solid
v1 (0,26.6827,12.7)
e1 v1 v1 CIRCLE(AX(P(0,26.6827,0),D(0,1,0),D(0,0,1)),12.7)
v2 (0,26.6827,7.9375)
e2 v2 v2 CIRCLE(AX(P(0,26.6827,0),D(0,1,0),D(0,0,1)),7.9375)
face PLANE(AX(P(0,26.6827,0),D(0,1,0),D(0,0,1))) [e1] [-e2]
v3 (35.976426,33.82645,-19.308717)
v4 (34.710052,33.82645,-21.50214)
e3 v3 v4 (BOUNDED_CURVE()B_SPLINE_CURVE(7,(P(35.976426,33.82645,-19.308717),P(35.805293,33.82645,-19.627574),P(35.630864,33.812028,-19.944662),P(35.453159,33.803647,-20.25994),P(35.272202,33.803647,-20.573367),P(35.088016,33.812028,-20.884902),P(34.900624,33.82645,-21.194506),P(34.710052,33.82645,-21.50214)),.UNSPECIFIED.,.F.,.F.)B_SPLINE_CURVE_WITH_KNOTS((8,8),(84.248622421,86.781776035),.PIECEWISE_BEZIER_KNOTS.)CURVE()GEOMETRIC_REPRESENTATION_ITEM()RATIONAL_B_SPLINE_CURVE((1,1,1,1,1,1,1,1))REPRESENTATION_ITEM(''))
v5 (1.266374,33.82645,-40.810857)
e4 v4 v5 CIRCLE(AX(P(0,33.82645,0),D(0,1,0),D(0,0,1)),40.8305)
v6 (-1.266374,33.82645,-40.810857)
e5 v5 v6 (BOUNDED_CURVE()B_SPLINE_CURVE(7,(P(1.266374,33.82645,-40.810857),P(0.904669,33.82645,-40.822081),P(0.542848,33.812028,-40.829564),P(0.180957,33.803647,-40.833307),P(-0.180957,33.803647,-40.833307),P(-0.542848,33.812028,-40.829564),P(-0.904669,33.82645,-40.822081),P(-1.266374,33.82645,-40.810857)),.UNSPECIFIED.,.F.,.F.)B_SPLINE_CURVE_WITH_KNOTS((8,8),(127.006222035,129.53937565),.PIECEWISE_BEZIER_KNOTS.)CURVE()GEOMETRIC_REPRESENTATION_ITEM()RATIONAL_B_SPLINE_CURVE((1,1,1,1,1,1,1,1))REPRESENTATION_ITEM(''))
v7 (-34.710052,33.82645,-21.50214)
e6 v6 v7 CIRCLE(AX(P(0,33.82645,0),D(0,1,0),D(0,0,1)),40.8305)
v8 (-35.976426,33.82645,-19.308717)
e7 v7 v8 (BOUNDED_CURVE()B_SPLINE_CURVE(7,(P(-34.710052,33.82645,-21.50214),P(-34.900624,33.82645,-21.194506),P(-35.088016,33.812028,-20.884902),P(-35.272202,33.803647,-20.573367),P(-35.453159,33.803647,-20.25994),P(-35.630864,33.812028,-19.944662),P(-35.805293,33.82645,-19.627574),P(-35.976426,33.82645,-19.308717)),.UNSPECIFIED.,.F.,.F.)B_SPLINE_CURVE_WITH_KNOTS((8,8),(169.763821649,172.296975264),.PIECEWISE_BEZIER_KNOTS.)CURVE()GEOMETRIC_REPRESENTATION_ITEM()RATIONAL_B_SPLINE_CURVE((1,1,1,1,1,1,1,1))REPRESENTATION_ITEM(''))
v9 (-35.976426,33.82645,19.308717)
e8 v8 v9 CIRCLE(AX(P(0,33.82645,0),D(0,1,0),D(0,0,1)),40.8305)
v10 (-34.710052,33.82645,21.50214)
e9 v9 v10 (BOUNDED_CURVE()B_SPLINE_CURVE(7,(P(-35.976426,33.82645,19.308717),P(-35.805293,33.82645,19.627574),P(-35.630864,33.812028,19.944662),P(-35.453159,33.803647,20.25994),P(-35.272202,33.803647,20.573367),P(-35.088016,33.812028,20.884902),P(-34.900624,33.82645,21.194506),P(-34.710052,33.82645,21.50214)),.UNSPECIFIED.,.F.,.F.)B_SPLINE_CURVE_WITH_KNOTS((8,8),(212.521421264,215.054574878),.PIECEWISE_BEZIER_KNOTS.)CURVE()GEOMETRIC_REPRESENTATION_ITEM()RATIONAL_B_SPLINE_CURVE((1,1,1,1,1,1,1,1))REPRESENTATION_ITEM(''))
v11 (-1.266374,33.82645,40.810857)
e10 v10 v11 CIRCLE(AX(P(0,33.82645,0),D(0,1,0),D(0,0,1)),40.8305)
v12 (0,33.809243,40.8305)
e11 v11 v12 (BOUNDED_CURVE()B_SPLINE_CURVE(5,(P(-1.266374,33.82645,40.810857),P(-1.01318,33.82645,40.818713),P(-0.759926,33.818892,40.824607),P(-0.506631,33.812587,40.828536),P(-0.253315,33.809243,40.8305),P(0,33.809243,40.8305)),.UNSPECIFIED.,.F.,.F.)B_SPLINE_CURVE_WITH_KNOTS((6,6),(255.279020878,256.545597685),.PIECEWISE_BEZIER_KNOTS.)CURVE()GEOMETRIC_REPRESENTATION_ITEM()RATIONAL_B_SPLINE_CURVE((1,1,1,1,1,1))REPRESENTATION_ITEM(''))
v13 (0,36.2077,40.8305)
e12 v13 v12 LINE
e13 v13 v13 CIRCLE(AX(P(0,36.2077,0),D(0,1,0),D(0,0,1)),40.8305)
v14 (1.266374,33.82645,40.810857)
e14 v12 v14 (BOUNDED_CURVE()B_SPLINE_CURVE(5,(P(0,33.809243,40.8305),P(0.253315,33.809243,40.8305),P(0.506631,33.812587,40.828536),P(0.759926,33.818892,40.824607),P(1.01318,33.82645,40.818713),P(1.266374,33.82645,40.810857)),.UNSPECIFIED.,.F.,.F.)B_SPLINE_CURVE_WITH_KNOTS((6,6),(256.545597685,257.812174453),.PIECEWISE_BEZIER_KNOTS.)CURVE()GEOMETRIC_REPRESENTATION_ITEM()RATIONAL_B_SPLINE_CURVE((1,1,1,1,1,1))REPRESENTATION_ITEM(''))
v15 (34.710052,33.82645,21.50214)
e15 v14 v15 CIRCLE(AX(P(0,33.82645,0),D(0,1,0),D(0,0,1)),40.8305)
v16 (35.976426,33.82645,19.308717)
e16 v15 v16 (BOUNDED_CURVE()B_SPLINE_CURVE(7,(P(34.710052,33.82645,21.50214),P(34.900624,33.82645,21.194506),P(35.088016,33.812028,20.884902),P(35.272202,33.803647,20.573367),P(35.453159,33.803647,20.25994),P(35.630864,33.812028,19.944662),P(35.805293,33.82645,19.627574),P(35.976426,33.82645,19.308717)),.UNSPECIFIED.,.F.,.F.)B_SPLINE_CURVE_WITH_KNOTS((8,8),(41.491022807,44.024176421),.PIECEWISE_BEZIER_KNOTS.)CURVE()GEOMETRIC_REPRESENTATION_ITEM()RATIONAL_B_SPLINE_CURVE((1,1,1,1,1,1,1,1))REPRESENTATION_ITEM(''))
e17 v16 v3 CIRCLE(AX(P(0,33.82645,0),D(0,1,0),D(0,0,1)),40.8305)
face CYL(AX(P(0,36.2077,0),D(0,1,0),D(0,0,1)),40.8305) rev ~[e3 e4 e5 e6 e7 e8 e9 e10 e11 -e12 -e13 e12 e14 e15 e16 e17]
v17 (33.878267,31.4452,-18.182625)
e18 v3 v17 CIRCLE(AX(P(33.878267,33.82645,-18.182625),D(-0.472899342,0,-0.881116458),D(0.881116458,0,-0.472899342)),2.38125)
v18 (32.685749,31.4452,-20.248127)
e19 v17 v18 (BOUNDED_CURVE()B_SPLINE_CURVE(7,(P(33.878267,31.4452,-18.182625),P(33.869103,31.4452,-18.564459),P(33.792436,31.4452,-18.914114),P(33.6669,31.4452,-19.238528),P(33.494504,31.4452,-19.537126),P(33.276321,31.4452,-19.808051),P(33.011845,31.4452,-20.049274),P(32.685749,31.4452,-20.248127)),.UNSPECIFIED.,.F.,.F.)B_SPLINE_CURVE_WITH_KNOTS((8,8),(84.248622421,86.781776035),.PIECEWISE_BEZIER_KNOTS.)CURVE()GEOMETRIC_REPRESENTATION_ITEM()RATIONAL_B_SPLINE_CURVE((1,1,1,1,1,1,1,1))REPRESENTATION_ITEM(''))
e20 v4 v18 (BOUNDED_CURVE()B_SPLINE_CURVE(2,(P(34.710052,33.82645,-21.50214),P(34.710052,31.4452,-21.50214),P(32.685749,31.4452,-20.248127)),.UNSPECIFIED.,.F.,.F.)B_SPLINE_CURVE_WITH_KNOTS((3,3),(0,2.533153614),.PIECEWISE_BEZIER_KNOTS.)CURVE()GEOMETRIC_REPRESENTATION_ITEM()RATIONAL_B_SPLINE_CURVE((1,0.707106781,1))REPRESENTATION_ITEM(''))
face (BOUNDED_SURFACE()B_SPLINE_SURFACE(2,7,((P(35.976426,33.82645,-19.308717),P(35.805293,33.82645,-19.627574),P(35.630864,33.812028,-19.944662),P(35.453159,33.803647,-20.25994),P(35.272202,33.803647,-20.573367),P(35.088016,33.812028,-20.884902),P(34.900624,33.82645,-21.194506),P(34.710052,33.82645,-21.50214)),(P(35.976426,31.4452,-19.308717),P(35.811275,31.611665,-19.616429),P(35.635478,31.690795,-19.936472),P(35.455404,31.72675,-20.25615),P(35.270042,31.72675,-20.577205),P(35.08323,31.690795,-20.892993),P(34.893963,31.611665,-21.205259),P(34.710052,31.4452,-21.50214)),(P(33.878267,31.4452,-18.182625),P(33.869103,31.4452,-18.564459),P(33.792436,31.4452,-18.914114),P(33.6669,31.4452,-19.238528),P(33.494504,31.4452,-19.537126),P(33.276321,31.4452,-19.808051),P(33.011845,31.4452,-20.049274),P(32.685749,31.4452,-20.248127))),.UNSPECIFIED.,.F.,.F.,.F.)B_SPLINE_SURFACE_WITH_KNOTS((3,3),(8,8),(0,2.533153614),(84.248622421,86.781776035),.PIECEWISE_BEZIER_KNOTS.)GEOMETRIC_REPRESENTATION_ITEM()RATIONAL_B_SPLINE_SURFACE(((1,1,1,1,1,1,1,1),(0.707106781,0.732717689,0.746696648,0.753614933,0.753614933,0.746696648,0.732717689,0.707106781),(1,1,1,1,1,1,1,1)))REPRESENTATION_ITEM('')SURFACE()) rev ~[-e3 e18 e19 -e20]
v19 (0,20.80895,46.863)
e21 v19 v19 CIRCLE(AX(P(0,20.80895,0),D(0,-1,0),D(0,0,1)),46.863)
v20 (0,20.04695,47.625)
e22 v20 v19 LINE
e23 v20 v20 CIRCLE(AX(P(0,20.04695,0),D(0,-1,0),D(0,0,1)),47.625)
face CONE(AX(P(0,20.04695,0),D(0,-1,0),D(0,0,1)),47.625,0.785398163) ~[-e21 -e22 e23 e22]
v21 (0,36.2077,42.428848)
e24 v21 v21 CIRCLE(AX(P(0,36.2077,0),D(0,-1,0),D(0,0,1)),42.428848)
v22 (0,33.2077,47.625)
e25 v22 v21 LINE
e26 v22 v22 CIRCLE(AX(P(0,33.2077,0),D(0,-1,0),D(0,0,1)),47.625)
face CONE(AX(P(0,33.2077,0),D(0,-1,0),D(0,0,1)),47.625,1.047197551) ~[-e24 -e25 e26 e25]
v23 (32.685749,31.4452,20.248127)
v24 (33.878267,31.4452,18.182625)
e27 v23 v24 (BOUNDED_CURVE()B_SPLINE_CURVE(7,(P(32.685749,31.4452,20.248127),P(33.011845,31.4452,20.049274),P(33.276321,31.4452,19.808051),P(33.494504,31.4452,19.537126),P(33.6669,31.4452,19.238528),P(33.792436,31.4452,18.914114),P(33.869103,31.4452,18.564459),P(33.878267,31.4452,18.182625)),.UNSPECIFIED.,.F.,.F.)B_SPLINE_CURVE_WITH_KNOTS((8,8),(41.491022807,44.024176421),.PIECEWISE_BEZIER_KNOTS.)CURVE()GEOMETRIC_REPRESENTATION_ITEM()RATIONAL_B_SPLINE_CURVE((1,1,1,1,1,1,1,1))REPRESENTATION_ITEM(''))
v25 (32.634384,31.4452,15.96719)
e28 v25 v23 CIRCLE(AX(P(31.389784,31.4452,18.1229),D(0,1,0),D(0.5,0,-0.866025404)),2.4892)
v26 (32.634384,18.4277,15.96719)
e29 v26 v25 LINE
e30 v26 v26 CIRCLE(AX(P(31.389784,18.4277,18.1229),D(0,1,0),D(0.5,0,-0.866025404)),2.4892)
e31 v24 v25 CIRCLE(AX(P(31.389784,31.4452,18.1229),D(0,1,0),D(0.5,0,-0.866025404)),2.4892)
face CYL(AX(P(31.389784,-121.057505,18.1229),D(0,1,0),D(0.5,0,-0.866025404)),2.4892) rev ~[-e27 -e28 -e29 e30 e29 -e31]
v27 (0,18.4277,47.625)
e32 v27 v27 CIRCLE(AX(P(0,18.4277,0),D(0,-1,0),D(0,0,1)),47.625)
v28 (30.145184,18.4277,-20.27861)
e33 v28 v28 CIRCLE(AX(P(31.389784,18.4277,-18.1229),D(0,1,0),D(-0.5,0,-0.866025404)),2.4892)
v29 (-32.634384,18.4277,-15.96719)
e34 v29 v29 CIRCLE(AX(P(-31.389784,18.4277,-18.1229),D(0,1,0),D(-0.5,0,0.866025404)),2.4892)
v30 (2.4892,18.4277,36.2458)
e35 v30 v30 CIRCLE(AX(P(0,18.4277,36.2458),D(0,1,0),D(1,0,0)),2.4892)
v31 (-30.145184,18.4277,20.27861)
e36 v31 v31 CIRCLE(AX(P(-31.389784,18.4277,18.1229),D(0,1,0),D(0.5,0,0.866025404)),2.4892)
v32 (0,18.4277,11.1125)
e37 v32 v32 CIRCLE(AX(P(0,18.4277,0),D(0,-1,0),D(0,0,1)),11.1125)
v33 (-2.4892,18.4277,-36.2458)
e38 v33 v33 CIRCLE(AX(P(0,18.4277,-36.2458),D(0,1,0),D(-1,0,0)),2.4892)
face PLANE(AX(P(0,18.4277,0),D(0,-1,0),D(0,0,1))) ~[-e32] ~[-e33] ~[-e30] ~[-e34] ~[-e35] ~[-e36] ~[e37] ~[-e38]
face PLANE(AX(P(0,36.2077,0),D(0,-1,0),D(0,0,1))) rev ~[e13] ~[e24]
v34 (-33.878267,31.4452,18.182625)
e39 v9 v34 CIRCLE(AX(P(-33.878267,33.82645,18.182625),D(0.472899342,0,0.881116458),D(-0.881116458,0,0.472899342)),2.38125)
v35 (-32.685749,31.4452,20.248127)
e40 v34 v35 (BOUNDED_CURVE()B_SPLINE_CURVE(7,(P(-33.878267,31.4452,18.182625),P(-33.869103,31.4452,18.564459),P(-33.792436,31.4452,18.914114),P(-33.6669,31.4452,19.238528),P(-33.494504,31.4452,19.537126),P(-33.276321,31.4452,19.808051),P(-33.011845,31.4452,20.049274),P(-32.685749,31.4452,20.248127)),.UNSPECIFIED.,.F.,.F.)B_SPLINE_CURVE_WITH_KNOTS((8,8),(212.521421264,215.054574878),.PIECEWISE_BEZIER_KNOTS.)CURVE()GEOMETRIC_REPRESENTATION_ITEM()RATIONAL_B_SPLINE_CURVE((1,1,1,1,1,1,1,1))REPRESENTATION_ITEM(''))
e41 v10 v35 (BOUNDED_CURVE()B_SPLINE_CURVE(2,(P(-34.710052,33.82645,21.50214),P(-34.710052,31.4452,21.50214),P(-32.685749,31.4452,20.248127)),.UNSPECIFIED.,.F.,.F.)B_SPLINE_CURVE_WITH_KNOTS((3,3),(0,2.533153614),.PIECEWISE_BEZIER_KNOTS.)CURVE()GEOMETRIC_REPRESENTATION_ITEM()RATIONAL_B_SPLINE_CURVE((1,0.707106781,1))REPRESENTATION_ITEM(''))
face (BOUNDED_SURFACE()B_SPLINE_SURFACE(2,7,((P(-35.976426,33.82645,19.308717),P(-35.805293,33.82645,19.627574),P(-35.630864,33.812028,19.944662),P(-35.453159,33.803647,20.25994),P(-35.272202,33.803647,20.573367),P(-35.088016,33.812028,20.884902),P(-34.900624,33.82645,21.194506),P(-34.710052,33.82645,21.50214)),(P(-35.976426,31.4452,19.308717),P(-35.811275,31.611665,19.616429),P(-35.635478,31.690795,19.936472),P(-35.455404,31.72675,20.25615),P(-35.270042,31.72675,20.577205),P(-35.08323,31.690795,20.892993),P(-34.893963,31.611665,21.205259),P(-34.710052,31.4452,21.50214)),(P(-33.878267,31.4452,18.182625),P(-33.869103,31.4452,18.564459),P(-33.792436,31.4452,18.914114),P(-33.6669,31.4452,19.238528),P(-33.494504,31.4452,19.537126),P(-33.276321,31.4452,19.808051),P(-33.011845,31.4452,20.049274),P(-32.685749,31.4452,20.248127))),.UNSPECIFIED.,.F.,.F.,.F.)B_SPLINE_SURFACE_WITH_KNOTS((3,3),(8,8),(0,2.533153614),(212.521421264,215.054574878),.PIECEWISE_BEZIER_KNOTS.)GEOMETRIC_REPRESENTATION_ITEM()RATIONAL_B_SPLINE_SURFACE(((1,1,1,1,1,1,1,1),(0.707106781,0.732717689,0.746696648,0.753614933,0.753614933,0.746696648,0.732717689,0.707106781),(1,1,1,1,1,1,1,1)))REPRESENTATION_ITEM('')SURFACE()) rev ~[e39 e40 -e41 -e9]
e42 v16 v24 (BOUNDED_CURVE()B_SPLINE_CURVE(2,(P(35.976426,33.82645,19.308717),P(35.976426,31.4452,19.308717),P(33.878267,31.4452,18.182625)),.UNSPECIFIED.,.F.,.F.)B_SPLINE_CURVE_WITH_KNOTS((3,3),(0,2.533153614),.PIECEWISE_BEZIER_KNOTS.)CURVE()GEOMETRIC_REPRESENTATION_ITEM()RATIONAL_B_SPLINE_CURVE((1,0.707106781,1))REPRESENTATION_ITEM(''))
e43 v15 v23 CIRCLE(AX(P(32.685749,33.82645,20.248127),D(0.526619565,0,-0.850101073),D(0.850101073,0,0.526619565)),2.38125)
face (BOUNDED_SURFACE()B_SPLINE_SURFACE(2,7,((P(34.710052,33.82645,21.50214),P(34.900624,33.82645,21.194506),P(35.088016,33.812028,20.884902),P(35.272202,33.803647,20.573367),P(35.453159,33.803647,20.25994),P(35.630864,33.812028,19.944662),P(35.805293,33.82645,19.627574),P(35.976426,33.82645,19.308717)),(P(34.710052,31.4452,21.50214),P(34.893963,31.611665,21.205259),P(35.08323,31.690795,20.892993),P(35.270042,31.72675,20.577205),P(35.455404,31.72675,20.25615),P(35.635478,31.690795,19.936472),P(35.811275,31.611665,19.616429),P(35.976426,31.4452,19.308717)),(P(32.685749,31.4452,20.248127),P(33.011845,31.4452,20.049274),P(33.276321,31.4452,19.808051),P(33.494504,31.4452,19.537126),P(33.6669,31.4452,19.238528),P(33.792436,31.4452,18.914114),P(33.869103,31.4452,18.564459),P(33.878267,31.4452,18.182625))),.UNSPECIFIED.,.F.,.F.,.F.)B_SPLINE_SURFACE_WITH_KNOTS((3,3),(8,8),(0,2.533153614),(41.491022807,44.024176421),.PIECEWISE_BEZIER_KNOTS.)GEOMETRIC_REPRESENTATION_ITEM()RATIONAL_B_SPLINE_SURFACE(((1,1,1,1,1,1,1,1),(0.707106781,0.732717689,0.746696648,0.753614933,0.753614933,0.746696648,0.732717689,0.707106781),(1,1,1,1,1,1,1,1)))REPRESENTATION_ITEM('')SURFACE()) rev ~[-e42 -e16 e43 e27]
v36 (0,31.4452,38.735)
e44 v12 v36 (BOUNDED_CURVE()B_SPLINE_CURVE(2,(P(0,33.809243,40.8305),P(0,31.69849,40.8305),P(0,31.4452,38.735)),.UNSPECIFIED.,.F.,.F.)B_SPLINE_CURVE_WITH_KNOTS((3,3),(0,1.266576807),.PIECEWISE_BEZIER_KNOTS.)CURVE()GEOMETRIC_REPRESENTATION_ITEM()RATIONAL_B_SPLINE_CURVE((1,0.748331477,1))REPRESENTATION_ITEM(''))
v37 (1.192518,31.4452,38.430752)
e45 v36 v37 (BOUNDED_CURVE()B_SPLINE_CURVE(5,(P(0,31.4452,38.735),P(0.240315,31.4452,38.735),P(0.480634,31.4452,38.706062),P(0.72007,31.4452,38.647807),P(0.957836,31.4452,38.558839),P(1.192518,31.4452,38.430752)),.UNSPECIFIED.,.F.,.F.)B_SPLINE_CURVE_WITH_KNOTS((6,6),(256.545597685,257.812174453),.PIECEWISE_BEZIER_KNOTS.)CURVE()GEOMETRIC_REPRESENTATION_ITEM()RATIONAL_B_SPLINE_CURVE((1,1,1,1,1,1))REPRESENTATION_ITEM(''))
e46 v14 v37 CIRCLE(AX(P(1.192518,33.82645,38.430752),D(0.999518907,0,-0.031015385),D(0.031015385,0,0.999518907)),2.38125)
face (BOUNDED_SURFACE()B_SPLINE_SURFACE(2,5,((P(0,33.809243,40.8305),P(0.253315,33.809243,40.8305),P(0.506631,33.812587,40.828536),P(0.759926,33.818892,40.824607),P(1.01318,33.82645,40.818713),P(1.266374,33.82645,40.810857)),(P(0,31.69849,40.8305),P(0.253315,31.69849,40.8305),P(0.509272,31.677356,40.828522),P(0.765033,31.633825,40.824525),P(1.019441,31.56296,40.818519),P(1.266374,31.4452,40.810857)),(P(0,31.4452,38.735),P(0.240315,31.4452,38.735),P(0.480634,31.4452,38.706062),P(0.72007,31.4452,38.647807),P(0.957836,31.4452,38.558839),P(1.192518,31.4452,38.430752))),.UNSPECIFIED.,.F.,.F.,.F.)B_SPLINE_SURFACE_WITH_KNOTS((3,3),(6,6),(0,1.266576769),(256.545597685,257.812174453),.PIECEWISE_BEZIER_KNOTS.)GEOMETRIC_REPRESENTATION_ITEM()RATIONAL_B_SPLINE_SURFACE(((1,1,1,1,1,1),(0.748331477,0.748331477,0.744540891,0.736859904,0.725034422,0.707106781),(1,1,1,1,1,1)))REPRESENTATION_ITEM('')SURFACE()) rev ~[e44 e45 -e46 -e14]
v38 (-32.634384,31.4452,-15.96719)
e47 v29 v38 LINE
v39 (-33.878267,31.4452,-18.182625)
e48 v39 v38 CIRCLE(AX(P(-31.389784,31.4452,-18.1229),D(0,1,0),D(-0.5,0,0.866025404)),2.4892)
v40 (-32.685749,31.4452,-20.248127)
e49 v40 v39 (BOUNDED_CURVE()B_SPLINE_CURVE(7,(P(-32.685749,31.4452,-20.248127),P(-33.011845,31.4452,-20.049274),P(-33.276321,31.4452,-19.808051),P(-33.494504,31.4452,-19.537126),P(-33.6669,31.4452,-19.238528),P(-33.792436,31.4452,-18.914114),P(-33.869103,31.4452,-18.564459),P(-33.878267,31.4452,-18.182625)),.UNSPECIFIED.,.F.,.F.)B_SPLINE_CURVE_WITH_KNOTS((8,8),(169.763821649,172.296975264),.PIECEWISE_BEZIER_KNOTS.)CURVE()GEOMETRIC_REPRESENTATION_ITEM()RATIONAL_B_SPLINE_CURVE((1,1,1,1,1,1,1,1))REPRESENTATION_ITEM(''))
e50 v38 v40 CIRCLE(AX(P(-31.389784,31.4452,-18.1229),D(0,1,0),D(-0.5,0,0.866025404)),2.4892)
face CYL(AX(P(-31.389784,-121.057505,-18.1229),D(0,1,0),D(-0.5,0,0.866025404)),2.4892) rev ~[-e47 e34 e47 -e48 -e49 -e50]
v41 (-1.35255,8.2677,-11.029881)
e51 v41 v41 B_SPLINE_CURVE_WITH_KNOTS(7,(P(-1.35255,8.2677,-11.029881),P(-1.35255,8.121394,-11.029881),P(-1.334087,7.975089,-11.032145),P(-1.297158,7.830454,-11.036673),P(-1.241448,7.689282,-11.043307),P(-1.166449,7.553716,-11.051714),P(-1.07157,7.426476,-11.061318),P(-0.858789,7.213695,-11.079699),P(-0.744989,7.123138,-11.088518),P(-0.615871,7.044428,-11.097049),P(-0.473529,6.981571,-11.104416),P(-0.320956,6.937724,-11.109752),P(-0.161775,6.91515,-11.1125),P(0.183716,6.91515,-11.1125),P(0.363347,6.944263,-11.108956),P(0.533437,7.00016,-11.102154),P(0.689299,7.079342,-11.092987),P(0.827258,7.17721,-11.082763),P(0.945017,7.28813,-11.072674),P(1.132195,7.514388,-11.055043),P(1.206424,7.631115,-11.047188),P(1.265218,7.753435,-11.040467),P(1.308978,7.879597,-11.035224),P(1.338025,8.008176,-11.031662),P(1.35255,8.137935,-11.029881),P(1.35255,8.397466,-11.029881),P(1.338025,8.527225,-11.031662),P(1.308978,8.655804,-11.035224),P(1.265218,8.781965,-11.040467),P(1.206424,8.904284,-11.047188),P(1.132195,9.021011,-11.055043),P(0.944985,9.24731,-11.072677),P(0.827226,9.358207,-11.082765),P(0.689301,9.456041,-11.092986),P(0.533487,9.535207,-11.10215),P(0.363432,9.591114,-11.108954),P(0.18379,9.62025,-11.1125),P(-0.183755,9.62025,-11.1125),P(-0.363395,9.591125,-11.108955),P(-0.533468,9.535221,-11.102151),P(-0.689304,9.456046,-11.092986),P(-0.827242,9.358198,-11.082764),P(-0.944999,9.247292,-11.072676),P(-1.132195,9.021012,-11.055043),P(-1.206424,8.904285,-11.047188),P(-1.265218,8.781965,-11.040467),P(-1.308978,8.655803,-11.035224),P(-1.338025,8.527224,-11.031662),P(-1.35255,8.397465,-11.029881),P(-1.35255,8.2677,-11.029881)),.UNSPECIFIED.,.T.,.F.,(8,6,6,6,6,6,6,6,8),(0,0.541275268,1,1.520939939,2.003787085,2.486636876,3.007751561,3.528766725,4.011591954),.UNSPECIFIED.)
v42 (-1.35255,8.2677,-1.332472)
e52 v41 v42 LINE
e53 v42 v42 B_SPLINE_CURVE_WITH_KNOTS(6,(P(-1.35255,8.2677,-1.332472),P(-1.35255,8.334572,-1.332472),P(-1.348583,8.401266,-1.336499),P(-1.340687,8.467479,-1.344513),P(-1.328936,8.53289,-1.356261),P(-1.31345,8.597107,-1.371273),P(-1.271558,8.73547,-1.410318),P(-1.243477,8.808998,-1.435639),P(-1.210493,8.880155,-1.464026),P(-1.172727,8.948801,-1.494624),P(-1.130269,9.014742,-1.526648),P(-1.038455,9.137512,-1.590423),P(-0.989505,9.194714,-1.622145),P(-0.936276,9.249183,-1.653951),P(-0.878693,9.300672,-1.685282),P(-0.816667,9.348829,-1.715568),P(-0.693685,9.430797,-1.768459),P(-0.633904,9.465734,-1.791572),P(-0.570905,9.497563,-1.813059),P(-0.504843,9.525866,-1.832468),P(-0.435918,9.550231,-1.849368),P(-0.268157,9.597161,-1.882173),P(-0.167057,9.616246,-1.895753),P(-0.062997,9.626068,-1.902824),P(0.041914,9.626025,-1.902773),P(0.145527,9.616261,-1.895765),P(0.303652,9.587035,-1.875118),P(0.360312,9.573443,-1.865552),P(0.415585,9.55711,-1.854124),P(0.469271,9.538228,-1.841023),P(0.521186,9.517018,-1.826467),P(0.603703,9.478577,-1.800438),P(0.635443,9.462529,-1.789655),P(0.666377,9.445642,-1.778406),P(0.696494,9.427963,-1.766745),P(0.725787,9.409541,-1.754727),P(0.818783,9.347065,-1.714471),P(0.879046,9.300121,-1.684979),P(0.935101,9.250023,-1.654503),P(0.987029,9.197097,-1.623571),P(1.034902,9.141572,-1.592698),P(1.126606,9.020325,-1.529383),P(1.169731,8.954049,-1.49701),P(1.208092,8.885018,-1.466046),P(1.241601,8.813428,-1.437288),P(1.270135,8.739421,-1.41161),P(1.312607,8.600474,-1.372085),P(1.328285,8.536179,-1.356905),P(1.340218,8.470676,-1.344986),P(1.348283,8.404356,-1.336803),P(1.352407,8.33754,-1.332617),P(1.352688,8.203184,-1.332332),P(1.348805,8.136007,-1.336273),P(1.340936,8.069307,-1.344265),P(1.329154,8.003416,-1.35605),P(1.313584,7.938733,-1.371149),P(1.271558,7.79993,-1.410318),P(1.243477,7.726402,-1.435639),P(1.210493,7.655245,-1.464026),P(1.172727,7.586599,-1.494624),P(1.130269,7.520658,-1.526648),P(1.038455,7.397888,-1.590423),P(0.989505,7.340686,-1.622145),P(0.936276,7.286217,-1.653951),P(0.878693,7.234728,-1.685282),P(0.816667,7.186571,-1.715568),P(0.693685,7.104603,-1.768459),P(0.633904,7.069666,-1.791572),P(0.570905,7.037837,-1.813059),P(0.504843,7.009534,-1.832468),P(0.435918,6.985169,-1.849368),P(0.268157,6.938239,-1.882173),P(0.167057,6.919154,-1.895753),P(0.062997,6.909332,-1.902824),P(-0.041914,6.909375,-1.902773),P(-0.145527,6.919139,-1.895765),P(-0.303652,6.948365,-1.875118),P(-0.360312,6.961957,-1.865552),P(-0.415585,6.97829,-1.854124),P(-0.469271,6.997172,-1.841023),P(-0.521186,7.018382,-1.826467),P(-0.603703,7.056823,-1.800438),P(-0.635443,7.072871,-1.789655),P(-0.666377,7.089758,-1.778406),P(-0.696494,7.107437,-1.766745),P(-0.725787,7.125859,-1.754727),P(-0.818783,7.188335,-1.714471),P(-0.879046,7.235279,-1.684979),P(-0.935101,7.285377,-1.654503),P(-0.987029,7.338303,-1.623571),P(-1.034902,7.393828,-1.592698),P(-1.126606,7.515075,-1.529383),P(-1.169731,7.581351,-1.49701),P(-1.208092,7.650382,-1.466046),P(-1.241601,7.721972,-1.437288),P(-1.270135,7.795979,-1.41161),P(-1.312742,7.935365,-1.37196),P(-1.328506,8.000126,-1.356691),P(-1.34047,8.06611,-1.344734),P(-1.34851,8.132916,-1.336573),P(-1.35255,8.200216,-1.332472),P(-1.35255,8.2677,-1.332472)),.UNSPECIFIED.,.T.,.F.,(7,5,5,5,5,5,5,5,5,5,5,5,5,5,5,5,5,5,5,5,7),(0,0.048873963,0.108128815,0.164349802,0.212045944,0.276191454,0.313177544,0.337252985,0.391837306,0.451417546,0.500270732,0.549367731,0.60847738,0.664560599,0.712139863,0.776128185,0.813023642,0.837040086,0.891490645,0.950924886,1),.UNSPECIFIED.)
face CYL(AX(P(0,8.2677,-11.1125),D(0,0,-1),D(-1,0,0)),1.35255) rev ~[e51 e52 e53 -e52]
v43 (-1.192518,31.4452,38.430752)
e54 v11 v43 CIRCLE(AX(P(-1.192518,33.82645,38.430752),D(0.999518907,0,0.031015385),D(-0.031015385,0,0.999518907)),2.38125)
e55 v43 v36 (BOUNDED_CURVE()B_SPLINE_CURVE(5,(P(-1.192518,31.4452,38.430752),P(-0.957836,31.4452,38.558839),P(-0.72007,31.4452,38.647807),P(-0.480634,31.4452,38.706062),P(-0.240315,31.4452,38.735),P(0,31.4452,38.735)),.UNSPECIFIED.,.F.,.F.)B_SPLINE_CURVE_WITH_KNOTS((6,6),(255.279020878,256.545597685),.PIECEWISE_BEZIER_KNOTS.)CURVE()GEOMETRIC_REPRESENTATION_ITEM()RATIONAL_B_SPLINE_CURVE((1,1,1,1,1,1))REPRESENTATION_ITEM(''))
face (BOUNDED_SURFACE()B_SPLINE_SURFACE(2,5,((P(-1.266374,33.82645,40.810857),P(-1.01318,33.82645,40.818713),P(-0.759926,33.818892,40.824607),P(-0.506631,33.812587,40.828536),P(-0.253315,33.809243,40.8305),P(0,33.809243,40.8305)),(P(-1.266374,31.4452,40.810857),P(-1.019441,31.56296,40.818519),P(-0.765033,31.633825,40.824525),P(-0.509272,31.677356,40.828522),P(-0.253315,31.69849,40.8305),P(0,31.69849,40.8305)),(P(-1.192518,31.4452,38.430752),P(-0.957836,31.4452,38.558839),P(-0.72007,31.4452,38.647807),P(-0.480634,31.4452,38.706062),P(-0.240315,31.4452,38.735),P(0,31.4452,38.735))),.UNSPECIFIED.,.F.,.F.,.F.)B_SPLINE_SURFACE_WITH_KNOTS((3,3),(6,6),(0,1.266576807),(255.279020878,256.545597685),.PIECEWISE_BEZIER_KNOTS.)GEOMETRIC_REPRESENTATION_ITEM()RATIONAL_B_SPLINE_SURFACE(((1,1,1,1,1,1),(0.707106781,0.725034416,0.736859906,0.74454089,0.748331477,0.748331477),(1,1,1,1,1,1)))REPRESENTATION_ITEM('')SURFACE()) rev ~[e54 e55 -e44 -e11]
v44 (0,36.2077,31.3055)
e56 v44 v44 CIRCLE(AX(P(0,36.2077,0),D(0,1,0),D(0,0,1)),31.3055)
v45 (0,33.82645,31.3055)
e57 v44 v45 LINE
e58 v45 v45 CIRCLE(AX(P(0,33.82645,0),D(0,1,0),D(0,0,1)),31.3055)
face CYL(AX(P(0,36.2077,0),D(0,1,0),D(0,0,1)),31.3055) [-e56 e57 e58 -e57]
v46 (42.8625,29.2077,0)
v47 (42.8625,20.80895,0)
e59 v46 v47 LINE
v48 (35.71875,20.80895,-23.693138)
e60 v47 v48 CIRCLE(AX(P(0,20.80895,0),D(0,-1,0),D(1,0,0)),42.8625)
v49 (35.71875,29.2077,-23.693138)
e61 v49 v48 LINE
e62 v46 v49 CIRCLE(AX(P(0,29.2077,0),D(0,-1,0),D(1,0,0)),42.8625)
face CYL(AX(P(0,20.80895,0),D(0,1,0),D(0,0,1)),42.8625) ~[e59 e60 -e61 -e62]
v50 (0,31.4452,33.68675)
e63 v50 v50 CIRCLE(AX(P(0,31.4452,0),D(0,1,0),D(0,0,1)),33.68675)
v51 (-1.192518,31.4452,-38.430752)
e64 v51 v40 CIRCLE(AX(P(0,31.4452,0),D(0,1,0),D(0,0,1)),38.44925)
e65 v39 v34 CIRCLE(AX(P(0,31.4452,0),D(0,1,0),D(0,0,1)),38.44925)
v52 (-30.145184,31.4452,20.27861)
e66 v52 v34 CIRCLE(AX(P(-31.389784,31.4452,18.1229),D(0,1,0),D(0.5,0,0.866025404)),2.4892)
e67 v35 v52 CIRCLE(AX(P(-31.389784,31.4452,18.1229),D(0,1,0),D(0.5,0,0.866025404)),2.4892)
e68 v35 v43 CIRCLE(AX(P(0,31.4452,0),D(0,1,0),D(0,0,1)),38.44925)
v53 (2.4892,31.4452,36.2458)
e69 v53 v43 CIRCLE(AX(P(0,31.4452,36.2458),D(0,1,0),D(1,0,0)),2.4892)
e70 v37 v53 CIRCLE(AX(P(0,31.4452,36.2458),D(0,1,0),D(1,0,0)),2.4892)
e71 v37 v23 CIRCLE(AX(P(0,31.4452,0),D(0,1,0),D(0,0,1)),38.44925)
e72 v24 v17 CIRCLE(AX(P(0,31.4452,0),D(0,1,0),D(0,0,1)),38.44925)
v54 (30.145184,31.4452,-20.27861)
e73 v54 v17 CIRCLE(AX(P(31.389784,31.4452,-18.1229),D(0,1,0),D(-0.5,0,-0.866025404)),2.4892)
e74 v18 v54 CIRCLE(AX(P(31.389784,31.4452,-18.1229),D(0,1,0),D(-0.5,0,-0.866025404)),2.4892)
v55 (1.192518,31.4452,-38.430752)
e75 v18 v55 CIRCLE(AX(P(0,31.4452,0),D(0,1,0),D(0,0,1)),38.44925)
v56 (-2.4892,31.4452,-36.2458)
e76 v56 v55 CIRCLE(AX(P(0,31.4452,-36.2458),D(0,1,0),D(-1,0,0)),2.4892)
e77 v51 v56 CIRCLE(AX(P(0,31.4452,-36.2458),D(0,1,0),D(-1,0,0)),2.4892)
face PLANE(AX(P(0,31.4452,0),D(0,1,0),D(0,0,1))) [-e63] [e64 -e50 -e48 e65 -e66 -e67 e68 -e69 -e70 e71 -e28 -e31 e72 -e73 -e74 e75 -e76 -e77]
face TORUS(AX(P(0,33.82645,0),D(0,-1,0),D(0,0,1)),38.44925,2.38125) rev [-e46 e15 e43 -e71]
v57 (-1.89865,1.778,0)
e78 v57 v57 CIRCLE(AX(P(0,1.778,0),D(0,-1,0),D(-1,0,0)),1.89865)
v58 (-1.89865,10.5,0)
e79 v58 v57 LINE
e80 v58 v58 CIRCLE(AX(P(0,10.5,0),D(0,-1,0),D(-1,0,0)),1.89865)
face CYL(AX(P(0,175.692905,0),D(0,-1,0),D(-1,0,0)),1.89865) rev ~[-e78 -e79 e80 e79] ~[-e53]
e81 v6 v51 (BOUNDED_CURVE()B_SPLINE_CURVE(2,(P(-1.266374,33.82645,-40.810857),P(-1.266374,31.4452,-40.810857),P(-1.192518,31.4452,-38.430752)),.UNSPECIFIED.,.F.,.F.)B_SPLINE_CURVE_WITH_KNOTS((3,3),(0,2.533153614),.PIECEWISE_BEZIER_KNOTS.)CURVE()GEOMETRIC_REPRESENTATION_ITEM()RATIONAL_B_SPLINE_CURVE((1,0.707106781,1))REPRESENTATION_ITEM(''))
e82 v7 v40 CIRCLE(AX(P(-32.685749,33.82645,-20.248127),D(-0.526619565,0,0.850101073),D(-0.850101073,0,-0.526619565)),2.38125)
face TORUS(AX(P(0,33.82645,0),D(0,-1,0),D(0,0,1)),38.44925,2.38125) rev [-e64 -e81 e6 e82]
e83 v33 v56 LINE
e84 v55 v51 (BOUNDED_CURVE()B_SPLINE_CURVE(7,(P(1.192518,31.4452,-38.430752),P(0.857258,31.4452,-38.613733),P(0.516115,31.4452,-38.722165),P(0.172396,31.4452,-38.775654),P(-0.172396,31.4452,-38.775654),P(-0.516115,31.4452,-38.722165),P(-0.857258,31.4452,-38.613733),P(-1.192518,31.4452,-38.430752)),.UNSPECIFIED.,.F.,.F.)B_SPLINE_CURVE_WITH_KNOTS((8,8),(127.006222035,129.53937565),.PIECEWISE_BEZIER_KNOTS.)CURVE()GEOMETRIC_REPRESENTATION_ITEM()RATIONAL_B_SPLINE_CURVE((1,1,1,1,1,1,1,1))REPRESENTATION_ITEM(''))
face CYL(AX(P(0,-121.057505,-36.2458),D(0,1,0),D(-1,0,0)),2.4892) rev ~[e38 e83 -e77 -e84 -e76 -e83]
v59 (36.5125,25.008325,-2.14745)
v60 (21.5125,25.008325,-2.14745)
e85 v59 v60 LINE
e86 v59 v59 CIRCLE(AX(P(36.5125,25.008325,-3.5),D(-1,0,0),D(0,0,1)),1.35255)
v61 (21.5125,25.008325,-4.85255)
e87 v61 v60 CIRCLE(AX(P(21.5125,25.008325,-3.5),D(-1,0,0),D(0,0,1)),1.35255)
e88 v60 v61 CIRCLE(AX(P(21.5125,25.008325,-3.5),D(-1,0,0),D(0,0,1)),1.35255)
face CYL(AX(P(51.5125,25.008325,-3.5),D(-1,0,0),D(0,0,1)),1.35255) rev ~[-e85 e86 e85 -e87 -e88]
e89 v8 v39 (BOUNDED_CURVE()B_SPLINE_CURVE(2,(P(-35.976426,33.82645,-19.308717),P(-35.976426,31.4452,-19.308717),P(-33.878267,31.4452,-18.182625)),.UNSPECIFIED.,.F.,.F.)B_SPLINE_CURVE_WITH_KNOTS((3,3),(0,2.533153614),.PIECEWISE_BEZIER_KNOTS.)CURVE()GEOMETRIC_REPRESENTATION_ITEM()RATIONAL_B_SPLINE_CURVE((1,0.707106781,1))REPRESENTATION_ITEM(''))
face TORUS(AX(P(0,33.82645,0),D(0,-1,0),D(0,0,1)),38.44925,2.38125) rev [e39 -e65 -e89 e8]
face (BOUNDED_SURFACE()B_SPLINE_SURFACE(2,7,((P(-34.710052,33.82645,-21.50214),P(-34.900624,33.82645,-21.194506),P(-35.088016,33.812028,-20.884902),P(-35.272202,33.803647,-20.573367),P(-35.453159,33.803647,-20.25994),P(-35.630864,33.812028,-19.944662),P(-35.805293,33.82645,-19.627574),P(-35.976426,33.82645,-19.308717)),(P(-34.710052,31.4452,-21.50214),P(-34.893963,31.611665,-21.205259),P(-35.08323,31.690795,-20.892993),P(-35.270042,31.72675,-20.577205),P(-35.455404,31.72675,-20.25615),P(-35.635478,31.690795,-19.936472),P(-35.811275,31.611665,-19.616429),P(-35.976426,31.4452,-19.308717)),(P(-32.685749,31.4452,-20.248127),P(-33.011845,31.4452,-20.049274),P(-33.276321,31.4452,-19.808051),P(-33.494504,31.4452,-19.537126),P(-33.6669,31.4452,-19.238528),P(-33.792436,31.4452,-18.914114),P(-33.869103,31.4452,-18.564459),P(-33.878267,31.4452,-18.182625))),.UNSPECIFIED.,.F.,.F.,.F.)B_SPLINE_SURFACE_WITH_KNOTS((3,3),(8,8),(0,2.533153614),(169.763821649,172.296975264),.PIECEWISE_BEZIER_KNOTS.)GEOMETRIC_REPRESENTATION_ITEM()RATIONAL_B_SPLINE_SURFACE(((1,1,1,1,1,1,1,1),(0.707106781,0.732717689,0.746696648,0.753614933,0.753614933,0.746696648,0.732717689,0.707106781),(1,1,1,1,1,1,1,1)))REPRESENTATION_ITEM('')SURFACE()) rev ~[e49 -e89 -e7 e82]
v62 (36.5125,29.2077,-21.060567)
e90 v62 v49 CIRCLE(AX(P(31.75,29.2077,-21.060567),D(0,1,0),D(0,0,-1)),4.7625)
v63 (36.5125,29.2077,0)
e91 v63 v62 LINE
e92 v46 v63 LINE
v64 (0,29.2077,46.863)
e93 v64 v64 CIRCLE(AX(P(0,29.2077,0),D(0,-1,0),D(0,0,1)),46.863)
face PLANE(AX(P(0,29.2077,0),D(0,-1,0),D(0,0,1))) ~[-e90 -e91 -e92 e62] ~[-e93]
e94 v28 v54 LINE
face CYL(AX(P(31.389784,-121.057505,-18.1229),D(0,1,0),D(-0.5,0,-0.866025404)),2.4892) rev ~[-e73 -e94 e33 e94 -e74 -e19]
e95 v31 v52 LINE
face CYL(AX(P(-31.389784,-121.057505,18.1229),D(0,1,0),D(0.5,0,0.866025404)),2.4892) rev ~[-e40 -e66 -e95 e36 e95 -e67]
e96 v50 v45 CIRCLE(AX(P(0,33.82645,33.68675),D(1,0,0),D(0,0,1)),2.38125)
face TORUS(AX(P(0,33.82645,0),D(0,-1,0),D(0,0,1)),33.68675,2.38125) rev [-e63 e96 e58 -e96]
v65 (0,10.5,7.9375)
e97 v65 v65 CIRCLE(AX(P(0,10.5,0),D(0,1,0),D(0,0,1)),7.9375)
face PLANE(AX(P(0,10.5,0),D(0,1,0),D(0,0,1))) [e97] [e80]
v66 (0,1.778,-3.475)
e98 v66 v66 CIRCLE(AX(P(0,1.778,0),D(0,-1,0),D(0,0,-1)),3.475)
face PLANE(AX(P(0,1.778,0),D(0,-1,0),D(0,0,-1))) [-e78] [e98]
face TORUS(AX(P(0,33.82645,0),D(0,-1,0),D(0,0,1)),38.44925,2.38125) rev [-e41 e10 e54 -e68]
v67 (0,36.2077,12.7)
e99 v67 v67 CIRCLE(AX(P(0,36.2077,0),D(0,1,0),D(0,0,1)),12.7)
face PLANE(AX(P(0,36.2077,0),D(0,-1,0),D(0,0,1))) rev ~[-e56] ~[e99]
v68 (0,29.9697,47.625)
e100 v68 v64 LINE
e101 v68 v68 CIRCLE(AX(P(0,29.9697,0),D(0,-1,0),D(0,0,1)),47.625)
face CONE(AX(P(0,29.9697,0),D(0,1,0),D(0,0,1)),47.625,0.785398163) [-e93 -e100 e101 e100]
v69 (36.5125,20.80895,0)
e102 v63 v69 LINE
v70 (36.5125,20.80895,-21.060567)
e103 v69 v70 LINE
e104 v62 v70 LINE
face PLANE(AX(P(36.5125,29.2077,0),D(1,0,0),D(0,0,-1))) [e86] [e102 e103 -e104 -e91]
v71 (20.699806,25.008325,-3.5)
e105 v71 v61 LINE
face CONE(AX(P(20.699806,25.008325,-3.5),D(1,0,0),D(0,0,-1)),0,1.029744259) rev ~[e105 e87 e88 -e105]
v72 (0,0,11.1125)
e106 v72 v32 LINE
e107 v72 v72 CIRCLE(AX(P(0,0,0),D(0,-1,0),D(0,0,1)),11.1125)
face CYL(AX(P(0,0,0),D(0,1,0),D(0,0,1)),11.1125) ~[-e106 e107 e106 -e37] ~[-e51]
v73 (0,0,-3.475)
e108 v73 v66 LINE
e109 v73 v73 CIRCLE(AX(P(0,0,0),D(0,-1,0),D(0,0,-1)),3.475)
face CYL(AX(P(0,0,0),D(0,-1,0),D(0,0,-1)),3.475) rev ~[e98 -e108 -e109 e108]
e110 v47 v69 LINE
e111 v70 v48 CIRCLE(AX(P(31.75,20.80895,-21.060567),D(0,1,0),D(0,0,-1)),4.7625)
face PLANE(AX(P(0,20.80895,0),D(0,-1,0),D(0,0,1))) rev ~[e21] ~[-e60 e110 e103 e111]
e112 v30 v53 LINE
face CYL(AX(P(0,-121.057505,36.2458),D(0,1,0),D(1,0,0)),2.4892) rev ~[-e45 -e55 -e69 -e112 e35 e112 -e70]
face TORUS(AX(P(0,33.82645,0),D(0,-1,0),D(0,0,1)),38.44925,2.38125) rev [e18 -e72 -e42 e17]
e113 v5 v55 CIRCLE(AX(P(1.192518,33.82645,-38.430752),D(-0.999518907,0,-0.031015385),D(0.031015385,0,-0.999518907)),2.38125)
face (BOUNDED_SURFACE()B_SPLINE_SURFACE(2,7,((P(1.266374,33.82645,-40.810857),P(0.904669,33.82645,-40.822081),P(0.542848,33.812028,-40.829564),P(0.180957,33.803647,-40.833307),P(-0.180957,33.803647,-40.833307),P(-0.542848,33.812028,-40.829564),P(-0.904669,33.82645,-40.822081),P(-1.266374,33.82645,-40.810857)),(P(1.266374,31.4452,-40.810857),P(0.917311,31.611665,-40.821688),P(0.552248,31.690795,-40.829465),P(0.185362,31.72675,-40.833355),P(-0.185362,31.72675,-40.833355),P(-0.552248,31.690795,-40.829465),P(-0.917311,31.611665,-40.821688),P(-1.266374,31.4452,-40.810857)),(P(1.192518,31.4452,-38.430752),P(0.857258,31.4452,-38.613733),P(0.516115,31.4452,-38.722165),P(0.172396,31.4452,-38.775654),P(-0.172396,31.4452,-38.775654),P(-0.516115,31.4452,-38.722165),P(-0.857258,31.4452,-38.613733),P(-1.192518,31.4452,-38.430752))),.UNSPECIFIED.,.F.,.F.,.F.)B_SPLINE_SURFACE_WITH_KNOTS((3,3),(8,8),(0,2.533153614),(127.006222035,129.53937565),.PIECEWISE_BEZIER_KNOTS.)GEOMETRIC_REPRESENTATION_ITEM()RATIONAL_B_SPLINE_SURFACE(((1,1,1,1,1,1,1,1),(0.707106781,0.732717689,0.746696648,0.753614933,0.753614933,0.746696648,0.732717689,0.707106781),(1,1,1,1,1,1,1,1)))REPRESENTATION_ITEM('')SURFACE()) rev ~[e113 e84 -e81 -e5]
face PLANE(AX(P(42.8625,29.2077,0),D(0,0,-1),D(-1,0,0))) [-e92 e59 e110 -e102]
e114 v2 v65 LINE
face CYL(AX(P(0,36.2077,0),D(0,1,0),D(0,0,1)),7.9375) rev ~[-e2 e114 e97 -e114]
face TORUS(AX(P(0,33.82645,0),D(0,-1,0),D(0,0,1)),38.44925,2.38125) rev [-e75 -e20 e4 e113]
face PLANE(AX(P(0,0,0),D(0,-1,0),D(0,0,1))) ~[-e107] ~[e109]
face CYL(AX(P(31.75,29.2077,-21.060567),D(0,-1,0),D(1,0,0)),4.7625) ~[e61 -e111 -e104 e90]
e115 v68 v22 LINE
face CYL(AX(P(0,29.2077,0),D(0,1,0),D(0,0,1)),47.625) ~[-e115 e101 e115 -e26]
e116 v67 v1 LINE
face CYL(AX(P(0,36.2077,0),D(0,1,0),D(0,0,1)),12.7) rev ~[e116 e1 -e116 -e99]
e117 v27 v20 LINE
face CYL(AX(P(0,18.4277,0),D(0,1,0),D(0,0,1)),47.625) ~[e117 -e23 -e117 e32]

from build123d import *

# Parameters (mm, degrees)
F_10_24_TAPPED_HOLE1_D     = 3.7973
CHAMFER1_SIZE              = 0.762
SKETCH5_R                  = 7.9375
CUT_EXTRUDE2_DEPTH         = 25.7077
F_6_32_TAPPED_HOLE2_REACH  = 85.841
F_6_32_TAPPED_HOLE2_BORE_R = 1.35255
SKETCH12_R                 = 12.7
CUT_EXTRUDE3_DEPTH         = 9.525
CUT_EXTRUDE4_DEPTH         = 8.39875
F_6_32_TAPPED_HOLE1_D      = 2.7051
F_6_32_TAPPED_HOLE1_DEPTH  = 15
F_6_32_TAPPED_HOLE1_TIP    = 0.81269403
SKETCH18_R                 = 3.475
CUT_EXTRUDE6_DEPTH         = 1.778
F_10_CLEARANCE_HOLE1_D     = 4.9784
CIRPATTERN1_COUNT          = 6
CHAMFER2_SIZE              = 3
CHAMFER2_SIZE2             = 5.196152423
SKETCH23_R                 = 40.8305
SKETCH23_R_2               = 31.3055
CUT_EXTRUDE7_DEPTH         = 4.7625
FILLET1_R                  = 2.38125
FILLET2_R                  = 4.7625


with BuildPart() as part:
    # Sketch1 → Revolve1 (revolve)
    with BuildSketch(Plane.XY, mode=Mode.PRIVATE) as revolve1_sk:
        Polygon((0, 0), (11.1125, 0), (11.1125, 18.4277), (47.625, 18.4277), (47.625, 20.80895), (42.8625, 20.80895), (42.8625, 29.2077), (47.625, 29.2077), (47.625, 36.2077), (0, 36.2077), align=None)
    revolve(revolve1_sk.sketch.rotate(Axis((0, 36.2077, 0), (0, -1, 0)), 90), axis=Axis((0, 36.2077, 0), (0, -1, 0)))

    # #10-24 Tapped Hole1 (through all)
    with Locations(Plane(origin=(0, 36.2077, 0), x_dir=(1, 0, 0), z_dir=(0, 1, 0))):
        with Locations((0, 0)):
            Hole(F_10_24_TAPPED_HOLE1_D / 2)

    # Chamfer1
    chamfer1_edges = [part.edges().sort_by_distance(p)[0] for p in [
        (0, 29.2077, -47.625),
        (0, 20.80895, -47.625),
    ]]
    chamfer(chamfer1_edges, length=CHAMFER1_SIZE)

    # Sketch5 → Cut-Extrude2 (cut)
    with BuildSketch(Plane(origin=(0, 36.2077, 0), x_dir=(1, 0, 0), z_dir=(0, 1, 0))):
        with Locations(Location((0, 0, 0), (0, 0, 270))):
            Circle(SKETCH5_R)
    extrude(amount=-CUT_EXTRUDE2_DEPTH, mode=Mode.SUBTRACT)

    # #6-32 Tapped Hole2 bore → #6-32 Tapped Hole2 (cut, up to next)
    with BuildSketch(Plane(origin=(0, 0, -11.1125), x_dir=(-1, 0, 0), z_dir=(0, 0, -1)), mode=Mode.PRIVATE) as f_6_32_tapped_hole2_sk1:
        with Locations((0, 8.2677)):
            Circle(F_6_32_TAPPED_HOLE2_BORE_R)
    f_6_32_tapped_hole2_tool1 = extrude(f_6_32_tapped_hole2_sk1.sketch, amount=-F_6_32_TAPPED_HOLE2_REACH, mode=Mode.PRIVATE) & part.part
    add(f_6_32_tapped_hole2_tool1.solids().sort_by_distance((0, 8.2677, -11.1125))[0], mode=Mode.SUBTRACT)

    # Sketch12 → Cut-Extrude3 (cut)
    with BuildSketch(Plane(origin=(0, 36.2077, 0), x_dir=(1, 0, 0), z_dir=(0, 1, 0))):
        with Locations(Location((0, 0, 0), (0, 0, 270))):
            Circle(SKETCH12_R)
    extrude(amount=-CUT_EXTRUDE3_DEPTH, mode=Mode.SUBTRACT)

    # Sketch13 → Cut-Extrude4 (cut)
    with BuildSketch(Plane.XZ.offset(-29.2077)):
        with BuildLine():
            Line((36.5125, 0), (36.5125, -22.450640303))
            ThreePointArc((36.5125, -22.450640303), (41.244459855, -11.6656949), (42.8625, 0))
            Line((42.8625, 0), (36.5125, 0))
        make_face()
    extrude(amount=CUT_EXTRUDE4_DEPTH, mode=Mode.SUBTRACT)

    # #6-32 Tapped Hole1
    with Locations(Plane(origin=(36.5125, 0, 0), x_dir=(0, 0, -1), z_dir=(1, 0, 0))):
        with Locations((3.5, 25.008325)):
            Hole(F_6_32_TAPPED_HOLE1_D / 2, depth=F_6_32_TAPPED_HOLE1_DEPTH)
            with Locations((0, 0, -(F_6_32_TAPPED_HOLE1_DEPTH + F_6_32_TAPPED_HOLE1_TIP / 2))):  # 118° drill point
                Cone(0, F_6_32_TAPPED_HOLE1_D / 2, F_6_32_TAPPED_HOLE1_TIP, mode=Mode.SUBTRACT)

    # Sketch18 → Cut-Extrude6 (cut)
    with BuildSketch(Plane.XZ):
        with Locations(Location((0, 0, 0), (0, 0, 270))):
            Circle(SKETCH18_R)
    extrude(amount=-CUT_EXTRUDE6_DEPTH, mode=Mode.SUBTRACT)

    # #10 Clearance Hole1 (through all)
    with Locations(Plane(origin=(0, 18.4277, 0), x_dir=(-1, 0, 0), z_dir=(0, -1, 0))):
        with Locations((0, -36.2458)):
            f_10_clearance_hole1 = Hole(F_10_CLEARANCE_HOLE1_D / 2)

    # CirPattern1: #10 Clearance Hole1 ×6 about axis
    cirpattern1_axis = Axis((0, 0, 0), (0, 1, 0))
    for i in range(1, CIRPATTERN1_COUNT):
        add(f_10_clearance_hole1.rotate(cirpattern1_axis, i * 360 / CIRPATTERN1_COUNT), mode=Mode.SUBTRACT)

    # Chamfer2
    chamfer2_edges = [part.edges().sort_by_distance(p)[0] for p in [
        (0, 36.2077, -47.625),
    ]]
    chamfer2_side = [part.faces().sort_by_distance(p)[0] for p in [
        (0, 33.0887, -47.625),
    ]]
    chamfer(chamfer2_edges, length=CHAMFER2_SIZE, length2=CHAMFER2_SIZE2, reference=chamfer2_side[0])

    # Sketch23 → Cut-Extrude7 (cut)
    with BuildSketch(Plane(origin=(0, 36.2077, 0), x_dir=(1, 0, 0), z_dir=(0, 1, 0))):
        with Locations(Location((0, 0, 0), (0, 0, 270))):
            Circle(SKETCH23_R)
        with Locations(Location((0, 0, 0), (0, 0, 270))):
            Circle(SKETCH23_R_2, mode=Mode.SUBTRACT)
    extrude(amount=-CUT_EXTRUDE7_DEPTH, mode=Mode.SUBTRACT)

    # Fillet1
    fillet1_edges = [part.edges().sort_by_distance(p)[0] for p in [
        (0, 31.4452, -31.3055),
        (0, 31.4452, -40.8305),
    ]]
    fillet(fillet1_edges, radius=FILLET1_R)

    # Fillet2
    fillet2_edges = [part.edges().sort_by_distance(p)[0] for p in [
        (36.5125, 25.008325, -22.450640303),
    ]]
    fillet(fillet2_edges, radius=FILLET2_R)


solid = part.part
